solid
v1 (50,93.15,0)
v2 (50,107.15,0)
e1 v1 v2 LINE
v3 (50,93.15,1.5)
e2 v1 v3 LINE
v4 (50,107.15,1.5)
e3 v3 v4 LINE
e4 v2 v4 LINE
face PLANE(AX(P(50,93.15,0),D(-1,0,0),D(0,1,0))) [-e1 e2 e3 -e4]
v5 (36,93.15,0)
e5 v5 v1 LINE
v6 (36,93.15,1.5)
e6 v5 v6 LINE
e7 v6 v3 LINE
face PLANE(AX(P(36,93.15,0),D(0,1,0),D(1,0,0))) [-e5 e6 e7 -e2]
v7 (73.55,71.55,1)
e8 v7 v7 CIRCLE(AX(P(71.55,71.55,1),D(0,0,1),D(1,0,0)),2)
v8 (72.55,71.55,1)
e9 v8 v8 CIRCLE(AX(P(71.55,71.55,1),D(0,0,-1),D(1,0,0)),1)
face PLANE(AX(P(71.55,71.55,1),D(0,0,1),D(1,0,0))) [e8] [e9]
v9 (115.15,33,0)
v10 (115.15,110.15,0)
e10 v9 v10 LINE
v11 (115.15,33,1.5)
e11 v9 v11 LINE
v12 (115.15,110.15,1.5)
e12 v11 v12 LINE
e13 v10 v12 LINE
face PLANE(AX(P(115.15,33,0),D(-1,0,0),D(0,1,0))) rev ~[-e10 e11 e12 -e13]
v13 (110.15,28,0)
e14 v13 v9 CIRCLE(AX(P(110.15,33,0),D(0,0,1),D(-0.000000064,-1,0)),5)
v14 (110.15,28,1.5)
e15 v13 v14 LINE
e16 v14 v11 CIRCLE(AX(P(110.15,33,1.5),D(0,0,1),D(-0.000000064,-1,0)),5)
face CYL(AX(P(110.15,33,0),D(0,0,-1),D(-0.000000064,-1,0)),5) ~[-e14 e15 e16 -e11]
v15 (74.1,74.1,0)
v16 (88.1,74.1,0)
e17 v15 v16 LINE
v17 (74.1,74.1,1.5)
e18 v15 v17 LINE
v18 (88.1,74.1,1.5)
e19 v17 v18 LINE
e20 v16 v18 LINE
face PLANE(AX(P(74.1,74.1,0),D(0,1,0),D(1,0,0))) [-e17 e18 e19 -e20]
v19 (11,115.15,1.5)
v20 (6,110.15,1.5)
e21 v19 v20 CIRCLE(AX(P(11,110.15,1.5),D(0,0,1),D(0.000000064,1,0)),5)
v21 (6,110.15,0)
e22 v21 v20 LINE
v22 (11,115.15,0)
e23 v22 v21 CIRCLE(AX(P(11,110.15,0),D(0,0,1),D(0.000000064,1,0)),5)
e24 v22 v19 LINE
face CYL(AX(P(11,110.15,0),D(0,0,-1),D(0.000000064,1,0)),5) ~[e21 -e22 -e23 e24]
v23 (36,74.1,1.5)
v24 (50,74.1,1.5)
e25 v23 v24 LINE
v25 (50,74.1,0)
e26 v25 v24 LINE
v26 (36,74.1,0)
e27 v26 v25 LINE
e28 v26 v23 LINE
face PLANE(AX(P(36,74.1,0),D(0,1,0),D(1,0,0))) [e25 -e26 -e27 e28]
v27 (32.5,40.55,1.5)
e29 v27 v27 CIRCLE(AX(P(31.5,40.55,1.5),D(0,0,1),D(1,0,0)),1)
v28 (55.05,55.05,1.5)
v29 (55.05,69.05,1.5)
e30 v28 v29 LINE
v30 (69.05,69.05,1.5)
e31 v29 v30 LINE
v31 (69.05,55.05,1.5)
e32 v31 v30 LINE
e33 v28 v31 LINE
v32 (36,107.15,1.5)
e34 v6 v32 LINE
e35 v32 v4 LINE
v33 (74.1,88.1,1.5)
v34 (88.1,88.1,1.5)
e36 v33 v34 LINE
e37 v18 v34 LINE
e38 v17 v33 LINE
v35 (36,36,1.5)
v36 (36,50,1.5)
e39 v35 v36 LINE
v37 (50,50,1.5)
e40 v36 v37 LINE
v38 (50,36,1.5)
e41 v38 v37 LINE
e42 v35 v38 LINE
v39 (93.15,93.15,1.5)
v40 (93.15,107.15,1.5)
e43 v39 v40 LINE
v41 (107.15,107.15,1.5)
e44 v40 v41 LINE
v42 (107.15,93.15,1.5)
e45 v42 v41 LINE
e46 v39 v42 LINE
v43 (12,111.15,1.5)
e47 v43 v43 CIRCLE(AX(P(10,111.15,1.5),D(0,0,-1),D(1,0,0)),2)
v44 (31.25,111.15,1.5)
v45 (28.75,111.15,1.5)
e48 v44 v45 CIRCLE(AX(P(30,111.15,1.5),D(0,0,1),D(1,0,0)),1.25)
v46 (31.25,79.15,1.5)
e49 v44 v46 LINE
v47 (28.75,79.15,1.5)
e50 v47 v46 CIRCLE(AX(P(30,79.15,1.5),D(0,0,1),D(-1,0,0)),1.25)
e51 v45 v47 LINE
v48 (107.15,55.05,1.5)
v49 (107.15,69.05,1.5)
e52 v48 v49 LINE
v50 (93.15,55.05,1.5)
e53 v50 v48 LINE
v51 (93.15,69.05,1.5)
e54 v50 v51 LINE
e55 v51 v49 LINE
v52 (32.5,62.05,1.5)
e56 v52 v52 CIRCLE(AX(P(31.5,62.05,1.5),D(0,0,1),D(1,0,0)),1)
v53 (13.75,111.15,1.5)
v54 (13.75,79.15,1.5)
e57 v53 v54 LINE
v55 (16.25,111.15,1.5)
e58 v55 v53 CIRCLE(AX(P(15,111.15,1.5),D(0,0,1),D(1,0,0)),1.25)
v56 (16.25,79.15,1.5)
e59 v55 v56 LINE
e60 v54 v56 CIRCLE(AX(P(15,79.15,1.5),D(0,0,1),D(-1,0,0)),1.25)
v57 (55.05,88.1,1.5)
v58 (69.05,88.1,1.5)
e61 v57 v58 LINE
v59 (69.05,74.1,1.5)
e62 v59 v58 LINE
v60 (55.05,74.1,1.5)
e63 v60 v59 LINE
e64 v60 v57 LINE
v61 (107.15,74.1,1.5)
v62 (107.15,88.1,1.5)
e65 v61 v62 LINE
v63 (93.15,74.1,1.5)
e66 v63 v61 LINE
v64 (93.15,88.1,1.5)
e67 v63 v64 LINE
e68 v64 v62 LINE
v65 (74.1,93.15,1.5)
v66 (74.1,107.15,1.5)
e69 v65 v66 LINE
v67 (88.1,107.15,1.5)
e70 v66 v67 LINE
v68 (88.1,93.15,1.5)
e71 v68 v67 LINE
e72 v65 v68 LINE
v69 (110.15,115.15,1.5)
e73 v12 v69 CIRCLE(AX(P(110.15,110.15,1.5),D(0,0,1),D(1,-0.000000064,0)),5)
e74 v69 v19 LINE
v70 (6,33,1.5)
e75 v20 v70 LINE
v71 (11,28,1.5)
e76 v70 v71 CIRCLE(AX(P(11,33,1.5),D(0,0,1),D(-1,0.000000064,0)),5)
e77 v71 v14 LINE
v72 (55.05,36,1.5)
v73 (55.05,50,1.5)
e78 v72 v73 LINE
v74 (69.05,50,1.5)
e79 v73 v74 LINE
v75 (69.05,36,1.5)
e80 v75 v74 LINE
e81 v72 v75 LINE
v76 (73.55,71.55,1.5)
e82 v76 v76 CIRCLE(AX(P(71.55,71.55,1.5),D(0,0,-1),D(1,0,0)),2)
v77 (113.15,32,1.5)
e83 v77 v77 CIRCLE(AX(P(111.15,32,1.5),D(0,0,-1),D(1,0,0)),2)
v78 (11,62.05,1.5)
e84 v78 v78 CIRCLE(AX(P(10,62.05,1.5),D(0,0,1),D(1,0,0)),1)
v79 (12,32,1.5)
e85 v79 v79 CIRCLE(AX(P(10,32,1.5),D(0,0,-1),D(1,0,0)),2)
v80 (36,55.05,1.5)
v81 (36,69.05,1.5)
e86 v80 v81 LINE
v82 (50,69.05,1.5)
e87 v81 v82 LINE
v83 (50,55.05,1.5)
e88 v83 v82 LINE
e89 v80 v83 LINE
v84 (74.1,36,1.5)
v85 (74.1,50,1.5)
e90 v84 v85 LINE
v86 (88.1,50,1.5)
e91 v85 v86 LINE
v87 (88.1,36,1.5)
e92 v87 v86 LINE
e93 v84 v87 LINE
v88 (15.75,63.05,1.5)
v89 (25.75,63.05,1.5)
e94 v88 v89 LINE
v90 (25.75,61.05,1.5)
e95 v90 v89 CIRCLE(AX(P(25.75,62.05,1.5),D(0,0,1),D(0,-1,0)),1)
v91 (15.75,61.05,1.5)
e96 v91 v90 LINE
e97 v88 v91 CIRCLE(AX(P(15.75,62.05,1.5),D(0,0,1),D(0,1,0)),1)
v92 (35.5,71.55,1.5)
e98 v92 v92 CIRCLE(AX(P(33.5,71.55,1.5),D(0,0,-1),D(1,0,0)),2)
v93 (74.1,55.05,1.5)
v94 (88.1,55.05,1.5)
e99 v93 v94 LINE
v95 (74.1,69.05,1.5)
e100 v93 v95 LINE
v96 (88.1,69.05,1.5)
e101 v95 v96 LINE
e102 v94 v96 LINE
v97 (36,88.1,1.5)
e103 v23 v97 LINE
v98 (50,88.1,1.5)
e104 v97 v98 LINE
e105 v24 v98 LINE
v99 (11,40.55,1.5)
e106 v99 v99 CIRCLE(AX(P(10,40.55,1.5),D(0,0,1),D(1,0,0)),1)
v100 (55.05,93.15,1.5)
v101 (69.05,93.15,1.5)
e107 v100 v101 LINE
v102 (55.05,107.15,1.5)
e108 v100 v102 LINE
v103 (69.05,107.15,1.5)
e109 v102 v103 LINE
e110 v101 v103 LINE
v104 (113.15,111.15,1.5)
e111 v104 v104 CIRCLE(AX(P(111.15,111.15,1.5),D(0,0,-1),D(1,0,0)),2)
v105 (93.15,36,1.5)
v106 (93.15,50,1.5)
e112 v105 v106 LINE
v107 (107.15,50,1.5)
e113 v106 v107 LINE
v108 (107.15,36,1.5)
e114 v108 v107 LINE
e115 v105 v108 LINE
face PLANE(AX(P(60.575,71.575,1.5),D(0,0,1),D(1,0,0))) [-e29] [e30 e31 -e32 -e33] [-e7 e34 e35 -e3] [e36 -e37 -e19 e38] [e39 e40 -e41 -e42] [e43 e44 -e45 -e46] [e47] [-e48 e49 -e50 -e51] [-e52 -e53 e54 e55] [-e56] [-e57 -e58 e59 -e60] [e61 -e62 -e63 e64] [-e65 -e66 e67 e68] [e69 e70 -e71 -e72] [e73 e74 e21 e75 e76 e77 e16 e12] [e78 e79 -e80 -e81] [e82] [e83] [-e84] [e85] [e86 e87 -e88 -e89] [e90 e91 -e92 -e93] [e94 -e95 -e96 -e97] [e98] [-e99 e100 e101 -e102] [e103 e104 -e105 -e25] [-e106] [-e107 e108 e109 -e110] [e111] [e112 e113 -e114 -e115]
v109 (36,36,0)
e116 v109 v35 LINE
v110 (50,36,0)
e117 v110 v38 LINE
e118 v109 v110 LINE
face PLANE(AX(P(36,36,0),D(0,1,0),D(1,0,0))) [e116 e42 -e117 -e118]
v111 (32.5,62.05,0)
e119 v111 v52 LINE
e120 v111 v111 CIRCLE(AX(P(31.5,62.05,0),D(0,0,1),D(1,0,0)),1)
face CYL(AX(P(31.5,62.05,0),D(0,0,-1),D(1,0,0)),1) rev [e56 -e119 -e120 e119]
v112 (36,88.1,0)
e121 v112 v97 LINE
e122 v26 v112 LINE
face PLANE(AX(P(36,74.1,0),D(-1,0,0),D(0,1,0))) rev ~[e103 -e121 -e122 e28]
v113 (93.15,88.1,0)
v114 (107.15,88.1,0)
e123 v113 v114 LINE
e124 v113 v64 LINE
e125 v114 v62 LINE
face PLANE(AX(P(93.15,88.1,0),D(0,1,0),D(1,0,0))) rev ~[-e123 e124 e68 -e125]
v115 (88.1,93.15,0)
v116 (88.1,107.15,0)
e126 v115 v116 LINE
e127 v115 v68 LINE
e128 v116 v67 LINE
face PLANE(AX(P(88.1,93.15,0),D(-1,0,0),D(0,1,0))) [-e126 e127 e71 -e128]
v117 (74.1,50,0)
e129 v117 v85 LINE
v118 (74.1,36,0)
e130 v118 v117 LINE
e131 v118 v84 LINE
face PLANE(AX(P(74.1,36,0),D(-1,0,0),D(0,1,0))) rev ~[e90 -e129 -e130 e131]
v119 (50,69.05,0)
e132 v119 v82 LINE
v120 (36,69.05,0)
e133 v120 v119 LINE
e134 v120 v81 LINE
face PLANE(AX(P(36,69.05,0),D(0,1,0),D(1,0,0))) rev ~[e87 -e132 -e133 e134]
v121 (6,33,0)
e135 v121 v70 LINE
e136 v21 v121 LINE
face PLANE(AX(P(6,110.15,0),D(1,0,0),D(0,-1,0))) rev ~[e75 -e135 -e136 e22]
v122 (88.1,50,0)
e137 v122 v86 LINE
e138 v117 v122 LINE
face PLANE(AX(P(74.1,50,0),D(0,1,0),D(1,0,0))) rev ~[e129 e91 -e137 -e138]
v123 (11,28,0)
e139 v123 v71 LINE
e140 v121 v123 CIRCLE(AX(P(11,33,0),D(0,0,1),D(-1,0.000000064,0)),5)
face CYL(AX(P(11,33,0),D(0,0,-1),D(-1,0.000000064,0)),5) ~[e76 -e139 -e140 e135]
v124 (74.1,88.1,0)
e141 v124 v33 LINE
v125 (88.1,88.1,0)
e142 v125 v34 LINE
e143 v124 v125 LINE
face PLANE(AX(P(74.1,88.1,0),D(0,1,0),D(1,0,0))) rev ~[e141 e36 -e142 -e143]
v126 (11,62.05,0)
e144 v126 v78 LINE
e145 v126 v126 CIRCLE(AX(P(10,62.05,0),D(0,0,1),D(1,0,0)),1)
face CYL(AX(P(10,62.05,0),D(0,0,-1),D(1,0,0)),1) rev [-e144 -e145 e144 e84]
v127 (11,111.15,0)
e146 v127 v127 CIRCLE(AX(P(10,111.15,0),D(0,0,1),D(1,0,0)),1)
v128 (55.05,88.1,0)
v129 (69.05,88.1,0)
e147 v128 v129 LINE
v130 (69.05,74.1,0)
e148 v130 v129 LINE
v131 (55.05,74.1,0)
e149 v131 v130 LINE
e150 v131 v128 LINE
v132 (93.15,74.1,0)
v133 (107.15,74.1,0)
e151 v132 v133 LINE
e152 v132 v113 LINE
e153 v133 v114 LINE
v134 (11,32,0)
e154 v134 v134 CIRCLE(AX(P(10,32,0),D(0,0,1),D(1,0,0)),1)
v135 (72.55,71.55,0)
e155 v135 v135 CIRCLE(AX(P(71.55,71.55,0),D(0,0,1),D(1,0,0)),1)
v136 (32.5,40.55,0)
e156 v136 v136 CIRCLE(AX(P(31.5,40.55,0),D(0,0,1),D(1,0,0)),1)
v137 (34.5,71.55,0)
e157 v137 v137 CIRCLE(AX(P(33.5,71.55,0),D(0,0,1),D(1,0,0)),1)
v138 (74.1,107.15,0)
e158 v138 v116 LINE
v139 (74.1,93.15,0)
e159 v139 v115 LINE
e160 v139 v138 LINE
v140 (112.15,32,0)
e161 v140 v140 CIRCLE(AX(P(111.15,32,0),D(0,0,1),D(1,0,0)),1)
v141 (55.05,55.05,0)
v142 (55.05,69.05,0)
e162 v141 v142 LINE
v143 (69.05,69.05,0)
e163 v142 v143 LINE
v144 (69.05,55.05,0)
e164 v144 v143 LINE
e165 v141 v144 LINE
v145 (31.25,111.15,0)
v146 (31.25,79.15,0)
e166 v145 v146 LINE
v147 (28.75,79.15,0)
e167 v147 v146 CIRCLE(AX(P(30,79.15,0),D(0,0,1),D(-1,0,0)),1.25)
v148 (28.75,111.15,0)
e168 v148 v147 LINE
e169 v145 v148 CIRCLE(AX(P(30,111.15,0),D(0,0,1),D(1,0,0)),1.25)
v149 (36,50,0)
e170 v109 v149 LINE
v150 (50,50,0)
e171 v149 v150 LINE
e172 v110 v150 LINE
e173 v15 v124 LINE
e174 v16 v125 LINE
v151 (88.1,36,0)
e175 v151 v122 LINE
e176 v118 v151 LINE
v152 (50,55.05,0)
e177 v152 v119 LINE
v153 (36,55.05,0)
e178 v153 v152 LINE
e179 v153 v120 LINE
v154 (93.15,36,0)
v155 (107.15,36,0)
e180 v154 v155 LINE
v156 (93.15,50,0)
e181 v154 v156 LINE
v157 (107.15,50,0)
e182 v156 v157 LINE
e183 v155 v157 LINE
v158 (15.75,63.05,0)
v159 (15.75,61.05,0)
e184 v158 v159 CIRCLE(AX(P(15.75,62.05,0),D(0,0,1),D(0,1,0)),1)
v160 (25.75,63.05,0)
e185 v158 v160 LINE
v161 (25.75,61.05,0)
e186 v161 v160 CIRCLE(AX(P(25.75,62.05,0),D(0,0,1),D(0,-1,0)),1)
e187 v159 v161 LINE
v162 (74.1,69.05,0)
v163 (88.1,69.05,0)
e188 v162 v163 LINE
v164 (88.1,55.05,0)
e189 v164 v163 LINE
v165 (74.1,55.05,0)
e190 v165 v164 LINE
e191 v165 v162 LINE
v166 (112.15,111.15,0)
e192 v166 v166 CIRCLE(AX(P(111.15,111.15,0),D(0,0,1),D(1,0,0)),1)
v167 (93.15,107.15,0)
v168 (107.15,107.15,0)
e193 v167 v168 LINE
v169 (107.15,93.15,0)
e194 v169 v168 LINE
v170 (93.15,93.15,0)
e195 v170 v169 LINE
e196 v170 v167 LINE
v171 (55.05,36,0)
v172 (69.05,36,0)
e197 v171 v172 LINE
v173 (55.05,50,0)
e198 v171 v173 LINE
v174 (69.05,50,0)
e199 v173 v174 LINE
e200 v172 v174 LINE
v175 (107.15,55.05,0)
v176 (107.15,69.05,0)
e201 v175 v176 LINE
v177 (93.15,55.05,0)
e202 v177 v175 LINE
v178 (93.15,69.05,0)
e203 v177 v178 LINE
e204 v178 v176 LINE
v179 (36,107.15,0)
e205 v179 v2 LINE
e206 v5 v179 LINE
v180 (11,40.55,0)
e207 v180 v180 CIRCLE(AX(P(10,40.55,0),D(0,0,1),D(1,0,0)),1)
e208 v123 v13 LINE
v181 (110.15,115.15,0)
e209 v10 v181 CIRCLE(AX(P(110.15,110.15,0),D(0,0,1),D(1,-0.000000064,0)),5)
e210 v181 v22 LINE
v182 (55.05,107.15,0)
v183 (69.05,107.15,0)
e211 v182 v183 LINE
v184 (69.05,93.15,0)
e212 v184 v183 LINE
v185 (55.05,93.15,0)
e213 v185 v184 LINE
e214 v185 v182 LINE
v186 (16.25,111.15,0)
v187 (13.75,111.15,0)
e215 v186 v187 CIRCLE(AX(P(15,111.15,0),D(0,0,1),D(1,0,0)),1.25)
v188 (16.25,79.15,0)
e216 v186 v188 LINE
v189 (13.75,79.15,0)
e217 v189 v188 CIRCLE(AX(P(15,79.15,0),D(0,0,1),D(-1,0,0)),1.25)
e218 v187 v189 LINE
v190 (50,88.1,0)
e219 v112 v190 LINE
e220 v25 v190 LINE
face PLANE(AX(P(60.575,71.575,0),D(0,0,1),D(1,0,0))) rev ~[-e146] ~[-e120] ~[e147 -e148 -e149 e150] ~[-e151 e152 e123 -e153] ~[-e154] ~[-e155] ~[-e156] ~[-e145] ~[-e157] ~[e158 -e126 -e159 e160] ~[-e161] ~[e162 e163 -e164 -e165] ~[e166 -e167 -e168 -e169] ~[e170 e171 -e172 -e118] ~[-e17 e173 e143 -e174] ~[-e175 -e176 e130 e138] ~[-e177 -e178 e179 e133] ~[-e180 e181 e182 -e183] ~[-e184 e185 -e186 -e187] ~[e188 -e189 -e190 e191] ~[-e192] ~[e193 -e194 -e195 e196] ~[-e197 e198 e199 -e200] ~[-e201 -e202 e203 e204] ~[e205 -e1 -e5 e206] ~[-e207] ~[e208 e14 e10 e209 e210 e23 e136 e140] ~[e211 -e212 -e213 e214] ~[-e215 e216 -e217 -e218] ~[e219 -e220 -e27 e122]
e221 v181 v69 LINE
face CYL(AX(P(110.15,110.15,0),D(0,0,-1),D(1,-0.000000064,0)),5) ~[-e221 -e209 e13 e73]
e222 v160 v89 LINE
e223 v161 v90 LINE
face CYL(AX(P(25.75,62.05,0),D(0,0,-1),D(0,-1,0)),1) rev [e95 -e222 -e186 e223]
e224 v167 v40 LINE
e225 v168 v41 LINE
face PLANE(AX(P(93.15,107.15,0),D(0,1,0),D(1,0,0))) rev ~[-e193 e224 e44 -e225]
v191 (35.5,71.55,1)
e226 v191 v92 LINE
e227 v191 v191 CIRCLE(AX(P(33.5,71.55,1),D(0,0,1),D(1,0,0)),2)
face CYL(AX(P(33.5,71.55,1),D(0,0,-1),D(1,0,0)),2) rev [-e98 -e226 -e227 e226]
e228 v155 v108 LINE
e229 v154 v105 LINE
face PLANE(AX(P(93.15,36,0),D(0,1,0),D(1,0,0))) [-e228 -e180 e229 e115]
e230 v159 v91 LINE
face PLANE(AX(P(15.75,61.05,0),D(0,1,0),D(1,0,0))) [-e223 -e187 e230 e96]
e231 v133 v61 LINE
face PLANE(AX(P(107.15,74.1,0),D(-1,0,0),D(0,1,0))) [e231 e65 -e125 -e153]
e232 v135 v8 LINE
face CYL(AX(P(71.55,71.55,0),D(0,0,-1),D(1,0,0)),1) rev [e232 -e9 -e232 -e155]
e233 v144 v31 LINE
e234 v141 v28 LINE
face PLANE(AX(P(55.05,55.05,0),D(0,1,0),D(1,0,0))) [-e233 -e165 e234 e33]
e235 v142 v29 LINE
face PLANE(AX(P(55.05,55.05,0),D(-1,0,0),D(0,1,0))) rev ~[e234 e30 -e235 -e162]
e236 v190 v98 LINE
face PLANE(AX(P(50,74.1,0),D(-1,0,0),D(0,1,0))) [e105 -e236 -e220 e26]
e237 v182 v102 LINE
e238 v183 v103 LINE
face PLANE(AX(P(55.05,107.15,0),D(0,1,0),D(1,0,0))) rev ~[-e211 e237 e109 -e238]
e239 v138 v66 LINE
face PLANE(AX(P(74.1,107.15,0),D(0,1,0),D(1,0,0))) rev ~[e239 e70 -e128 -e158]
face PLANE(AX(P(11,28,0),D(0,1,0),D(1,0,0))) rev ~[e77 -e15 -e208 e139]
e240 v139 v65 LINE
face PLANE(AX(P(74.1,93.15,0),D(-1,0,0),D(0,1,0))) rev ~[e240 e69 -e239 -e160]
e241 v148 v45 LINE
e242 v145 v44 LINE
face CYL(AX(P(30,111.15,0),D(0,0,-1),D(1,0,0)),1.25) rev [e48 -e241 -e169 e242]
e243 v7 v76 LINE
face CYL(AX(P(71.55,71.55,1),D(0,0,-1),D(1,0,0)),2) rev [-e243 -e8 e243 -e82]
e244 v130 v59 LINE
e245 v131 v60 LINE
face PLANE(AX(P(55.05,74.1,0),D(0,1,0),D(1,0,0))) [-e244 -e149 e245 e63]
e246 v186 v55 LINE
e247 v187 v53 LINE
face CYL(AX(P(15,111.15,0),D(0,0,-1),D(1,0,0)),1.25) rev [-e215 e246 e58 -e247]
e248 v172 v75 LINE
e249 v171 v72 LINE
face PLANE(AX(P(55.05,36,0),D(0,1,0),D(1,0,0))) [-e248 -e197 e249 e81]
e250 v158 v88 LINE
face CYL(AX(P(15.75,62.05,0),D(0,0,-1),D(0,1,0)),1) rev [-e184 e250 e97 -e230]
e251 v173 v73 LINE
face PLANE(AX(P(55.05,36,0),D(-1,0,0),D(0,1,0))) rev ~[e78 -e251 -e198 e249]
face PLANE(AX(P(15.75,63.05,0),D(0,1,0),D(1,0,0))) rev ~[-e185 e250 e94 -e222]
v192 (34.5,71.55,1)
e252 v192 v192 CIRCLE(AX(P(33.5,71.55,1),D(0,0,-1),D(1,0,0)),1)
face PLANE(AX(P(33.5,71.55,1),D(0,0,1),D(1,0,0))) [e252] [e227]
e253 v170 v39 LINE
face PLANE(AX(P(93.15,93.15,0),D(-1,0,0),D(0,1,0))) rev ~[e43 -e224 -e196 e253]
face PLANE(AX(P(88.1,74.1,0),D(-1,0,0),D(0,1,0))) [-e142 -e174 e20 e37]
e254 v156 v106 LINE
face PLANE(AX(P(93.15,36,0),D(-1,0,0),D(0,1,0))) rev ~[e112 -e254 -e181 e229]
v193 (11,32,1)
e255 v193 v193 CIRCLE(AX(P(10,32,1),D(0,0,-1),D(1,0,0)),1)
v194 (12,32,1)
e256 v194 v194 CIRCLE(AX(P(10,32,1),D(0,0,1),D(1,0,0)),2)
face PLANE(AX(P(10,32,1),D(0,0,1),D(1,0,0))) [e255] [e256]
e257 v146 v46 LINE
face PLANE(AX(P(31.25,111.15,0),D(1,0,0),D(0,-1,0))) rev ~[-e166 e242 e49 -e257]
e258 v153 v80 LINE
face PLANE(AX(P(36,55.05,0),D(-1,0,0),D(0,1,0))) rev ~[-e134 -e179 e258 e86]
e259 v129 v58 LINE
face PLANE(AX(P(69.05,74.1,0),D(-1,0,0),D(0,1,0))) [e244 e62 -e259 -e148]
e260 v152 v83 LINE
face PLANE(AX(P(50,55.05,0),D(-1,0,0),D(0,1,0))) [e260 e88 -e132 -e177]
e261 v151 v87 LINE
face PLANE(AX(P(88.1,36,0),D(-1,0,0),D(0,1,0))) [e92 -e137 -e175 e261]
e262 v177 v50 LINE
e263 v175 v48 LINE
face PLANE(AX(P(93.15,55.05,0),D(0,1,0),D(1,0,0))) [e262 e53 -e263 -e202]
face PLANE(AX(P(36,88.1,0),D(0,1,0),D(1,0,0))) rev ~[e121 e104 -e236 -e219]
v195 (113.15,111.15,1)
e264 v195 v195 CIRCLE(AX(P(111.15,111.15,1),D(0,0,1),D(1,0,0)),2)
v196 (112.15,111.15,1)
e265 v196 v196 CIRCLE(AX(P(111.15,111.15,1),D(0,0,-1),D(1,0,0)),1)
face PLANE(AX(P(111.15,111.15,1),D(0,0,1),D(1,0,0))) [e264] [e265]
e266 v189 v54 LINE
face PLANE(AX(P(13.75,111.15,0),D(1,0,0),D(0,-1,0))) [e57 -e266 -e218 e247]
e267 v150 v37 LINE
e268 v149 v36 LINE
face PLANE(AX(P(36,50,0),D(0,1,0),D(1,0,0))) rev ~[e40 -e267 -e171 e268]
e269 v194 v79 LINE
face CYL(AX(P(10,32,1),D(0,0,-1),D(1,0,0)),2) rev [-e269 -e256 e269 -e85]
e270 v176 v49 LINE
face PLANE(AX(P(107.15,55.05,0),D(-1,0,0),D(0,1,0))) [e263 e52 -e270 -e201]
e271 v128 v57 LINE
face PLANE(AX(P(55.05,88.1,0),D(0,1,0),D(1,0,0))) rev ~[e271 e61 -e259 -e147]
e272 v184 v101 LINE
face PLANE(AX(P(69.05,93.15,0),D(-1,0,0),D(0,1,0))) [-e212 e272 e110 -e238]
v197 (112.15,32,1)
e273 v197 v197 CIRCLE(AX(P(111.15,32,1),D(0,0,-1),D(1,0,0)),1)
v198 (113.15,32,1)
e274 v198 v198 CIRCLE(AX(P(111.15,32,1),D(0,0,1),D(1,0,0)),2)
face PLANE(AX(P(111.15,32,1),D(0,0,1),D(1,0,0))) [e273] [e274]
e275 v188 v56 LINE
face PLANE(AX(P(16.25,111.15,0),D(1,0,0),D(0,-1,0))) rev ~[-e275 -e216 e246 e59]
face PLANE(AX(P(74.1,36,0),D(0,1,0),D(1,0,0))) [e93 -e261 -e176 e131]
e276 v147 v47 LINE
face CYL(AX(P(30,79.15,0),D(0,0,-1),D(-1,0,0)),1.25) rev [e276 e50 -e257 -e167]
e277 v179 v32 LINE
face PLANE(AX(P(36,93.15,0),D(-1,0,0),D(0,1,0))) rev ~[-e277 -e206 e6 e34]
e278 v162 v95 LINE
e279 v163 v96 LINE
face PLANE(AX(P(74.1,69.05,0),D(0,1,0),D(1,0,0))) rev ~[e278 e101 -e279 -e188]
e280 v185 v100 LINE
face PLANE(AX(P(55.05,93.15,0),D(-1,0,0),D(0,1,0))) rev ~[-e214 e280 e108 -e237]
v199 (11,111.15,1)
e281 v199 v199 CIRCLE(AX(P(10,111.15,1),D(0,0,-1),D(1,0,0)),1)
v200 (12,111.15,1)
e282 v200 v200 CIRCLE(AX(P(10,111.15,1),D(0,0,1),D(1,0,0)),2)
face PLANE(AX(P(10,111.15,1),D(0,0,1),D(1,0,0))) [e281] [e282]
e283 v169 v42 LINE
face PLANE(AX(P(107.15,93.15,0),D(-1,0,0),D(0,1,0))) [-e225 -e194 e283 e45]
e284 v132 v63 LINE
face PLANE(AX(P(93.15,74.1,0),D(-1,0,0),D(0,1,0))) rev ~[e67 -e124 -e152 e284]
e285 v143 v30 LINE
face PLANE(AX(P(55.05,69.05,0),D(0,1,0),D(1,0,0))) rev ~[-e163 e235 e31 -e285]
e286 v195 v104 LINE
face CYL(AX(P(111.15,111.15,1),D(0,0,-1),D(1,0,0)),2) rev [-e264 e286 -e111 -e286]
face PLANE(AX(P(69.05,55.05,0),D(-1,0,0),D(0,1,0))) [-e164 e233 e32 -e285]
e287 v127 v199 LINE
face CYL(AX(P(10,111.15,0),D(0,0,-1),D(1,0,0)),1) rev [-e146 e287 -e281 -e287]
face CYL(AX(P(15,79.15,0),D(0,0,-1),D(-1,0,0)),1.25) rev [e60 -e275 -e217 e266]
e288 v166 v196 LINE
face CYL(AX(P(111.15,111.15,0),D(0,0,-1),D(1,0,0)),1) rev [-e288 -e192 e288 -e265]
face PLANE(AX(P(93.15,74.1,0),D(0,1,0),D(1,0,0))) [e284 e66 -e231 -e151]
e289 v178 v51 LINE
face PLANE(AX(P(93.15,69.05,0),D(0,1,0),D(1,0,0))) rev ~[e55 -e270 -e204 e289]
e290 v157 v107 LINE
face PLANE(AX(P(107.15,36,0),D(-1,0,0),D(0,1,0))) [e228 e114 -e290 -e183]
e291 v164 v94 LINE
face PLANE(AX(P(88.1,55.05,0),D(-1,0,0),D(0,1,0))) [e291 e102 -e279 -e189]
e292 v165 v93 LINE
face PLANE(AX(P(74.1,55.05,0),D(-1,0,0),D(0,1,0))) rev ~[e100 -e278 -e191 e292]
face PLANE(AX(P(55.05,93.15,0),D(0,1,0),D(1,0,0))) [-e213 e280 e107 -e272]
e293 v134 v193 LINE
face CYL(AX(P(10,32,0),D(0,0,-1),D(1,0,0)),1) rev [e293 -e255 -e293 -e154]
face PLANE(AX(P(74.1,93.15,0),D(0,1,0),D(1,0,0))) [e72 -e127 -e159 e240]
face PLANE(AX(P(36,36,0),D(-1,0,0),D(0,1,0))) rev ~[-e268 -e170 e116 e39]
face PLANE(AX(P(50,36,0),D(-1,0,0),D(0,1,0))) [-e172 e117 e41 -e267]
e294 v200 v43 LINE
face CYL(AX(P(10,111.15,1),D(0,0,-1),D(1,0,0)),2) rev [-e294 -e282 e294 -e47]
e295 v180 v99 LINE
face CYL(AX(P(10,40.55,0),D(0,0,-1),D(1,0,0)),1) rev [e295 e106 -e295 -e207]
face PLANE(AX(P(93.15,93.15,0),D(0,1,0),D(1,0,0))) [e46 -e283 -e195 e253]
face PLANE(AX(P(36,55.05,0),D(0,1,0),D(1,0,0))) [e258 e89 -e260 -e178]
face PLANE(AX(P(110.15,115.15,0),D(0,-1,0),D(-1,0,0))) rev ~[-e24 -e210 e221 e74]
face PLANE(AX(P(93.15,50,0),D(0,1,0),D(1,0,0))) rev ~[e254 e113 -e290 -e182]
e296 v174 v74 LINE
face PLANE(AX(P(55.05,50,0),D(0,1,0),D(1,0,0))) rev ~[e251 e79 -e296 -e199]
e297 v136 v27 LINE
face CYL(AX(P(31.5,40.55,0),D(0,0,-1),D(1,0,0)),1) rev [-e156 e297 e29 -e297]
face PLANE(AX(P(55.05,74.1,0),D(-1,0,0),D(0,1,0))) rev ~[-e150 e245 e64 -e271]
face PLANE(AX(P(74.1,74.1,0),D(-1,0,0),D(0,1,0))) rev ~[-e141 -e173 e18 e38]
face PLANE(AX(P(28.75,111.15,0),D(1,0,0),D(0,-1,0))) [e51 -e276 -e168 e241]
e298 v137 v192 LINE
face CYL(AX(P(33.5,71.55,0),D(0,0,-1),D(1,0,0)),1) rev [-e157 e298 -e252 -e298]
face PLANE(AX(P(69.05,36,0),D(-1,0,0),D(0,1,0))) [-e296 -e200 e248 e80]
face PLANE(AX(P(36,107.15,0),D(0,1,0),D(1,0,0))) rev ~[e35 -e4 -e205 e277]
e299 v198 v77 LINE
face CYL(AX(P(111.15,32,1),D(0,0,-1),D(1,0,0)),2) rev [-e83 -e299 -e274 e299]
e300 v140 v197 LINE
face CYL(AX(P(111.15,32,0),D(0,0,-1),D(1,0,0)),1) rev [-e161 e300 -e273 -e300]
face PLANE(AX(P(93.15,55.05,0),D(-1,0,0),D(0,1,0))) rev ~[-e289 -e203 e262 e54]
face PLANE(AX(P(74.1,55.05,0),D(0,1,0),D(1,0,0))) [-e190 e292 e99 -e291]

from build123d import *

# Parameters (mm, degrees)
SKETCH_R     = 1
SKETCH_W     = 14
SKETCH_H     = 14
PAD_DEPTH    = 1.5
POCKET_START = 1
SKETCH001_R  = 2
POCKET_DEPTH = 14


with BuildPart() as part:
    # Sketch → Pad (new body)
    with BuildSketch(Plane.XY):
        with BuildLine():
            Line((115.15, 33), (115.15, 110.15))
            ThreePointArc((115.15, 110.15), (113.685534, 113.685534), (110.15, 115.15))
            Line((110.15, 115.15), (11, 115.15))
            ThreePointArc((11, 115.15), (7.464466, 113.685534), (6, 110.15))
            Line((6, 110.15), (6, 33))
            ThreePointArc((6, 33), (7.464466, 29.464466), (11, 28))
            Line((11, 28), (110.15, 28))
            ThreePointArc((110.15, 28), (113.685534, 29.464466), (115.15, 33))
        make_face()
        with Locations((10, 111.15)):
            Circle(SKETCH_R, mode=Mode.SUBTRACT)
        with Locations((10, 32)):
            Circle(SKETCH_R, mode=Mode.SUBTRACT)
        with Locations((111.15, 32)):
            Circle(SKETCH_R, mode=Mode.SUBTRACT)
        with Locations((111.15, 111.15)):
            Circle(SKETCH_R, mode=Mode.SUBTRACT)
        with Locations((71.55, 71.55)):
            Circle(SKETCH_R, mode=Mode.SUBTRACT)
        with Locations((33.5, 71.55)):
            Circle(SKETCH_R, mode=Mode.SUBTRACT)
        with Locations((31.5, 62.05)):
            Circle(SKETCH_R, mode=Mode.SUBTRACT)
        with Locations((10, 62.05)):
            Circle(SKETCH_R, mode=Mode.SUBTRACT)
        with Locations((10, 40.55)):
            Circle(SKETCH_R, mode=Mode.SUBTRACT)
        with Locations((31.5, 40.55)):
            Circle(SKETCH_R, mode=Mode.SUBTRACT)
        with Locations((43, 43)):
            Rectangle(SKETCH_W, SKETCH_H, mode=Mode.SUBTRACT)
        with Locations((62.05, 43)):
            Rectangle(SKETCH_W, SKETCH_H, mode=Mode.SUBTRACT)
        with Locations((81.1, 43)):
            Rectangle(SKETCH_W, SKETCH_H, mode=Mode.SUBTRACT)
        with Locations((100.15, 43)):
            Rectangle(SKETCH_W, SKETCH_H, mode=Mode.SUBTRACT)
        with Locations((43, 62.05)):
            Rectangle(SKETCH_W, SKETCH_H, mode=Mode.SUBTRACT)
        with Locations((62.05, 62.05)):
            Rectangle(SKETCH_W, SKETCH_H, mode=Mode.SUBTRACT)
        with Locations((81.1, 62.05)):
            Rectangle(SKETCH_W, SKETCH_H, mode=Mode.SUBTRACT)
        with Locations((100.15, 62.05)):
            Rectangle(SKETCH_W, SKETCH_H, mode=Mode.SUBTRACT)
        with Locations((43, 81.1)):
            Rectangle(SKETCH_W, SKETCH_H, mode=Mode.SUBTRACT)
        with Locations((62.05, 81.1)):
            Rectangle(SKETCH_W, SKETCH_H, mode=Mode.SUBTRACT)
        with Locations((81.1, 81.1)):
            Rectangle(SKETCH_W, SKETCH_H, mode=Mode.SUBTRACT)
        with Locations((100.15, 81.1)):
            Rectangle(SKETCH_W, SKETCH_H, mode=Mode.SUBTRACT)
        with Locations((43, 100.15)):
            Rectangle(SKETCH_W, SKETCH_H, mode=Mode.SUBTRACT)
        with Locations((62.05, 100.15)):
            Rectangle(SKETCH_W, SKETCH_H, mode=Mode.SUBTRACT)
        with Locations((81.1, 100.15)):
            Rectangle(SKETCH_W, SKETCH_H, mode=Mode.SUBTRACT)
        with Locations((100.15, 100.15)):
            Rectangle(SKETCH_W, SKETCH_H, mode=Mode.SUBTRACT)
        with BuildLine():
            ThreePointArc((16.25, 111.15), (15, 112.4), (13.75, 111.15))
            Line((13.75, 111.15), (13.75, 79.15))
            ThreePointArc((13.75, 79.15), (15, 77.9), (16.25, 79.15))
            Line((16.25, 111.15), (16.25, 79.15))
        make_face(mode=Mode.SUBTRACT)
        with BuildLine():
            ThreePointArc((31.25, 111.15), (30, 112.4), (28.75, 111.15))
            Line((28.75, 111.15), (28.75, 79.15))
            ThreePointArc((28.75, 79.15), (30, 77.9), (31.25, 79.15))
            Line((31.25, 111.15), (31.25, 79.15))
        make_face(mode=Mode.SUBTRACT)
        with BuildLine():
            ThreePointArc((15.75, 63.05), (14.75, 62.05), (15.75, 61.05))
            Line((15.75, 61.05), (25.75, 61.05))
            ThreePointArc((25.75, 61.05), (26.75, 62.05), (25.75, 63.05))
            Line((15.75, 63.05), (25.75, 63.05))
        make_face(mode=Mode.SUBTRACT)
    extrude(amount=PAD_DEPTH)

    # Sketch001 → Pocket (cut)
    with BuildSketch(Plane.XY.offset(POCKET_START)):
        with Locations((10, 111.15)):
            Circle(SKETCH001_R)
        with Locations((10, 32)):
            Circle(SKETCH001_R)
        with Locations((111.15, 32)):
            Circle(SKETCH001_R)
        with Locations((111.15, 111.15)):
            Circle(SKETCH001_R)
        with Locations((71.55, 71.55)):
            Circle(SKETCH001_R)
        with Locations((33.5, 71.55)):
            Circle(SKETCH001_R)
    extrude(amount=POCKET_DEPTH, mode=Mode.SUBTRACT)


solid = part.part
